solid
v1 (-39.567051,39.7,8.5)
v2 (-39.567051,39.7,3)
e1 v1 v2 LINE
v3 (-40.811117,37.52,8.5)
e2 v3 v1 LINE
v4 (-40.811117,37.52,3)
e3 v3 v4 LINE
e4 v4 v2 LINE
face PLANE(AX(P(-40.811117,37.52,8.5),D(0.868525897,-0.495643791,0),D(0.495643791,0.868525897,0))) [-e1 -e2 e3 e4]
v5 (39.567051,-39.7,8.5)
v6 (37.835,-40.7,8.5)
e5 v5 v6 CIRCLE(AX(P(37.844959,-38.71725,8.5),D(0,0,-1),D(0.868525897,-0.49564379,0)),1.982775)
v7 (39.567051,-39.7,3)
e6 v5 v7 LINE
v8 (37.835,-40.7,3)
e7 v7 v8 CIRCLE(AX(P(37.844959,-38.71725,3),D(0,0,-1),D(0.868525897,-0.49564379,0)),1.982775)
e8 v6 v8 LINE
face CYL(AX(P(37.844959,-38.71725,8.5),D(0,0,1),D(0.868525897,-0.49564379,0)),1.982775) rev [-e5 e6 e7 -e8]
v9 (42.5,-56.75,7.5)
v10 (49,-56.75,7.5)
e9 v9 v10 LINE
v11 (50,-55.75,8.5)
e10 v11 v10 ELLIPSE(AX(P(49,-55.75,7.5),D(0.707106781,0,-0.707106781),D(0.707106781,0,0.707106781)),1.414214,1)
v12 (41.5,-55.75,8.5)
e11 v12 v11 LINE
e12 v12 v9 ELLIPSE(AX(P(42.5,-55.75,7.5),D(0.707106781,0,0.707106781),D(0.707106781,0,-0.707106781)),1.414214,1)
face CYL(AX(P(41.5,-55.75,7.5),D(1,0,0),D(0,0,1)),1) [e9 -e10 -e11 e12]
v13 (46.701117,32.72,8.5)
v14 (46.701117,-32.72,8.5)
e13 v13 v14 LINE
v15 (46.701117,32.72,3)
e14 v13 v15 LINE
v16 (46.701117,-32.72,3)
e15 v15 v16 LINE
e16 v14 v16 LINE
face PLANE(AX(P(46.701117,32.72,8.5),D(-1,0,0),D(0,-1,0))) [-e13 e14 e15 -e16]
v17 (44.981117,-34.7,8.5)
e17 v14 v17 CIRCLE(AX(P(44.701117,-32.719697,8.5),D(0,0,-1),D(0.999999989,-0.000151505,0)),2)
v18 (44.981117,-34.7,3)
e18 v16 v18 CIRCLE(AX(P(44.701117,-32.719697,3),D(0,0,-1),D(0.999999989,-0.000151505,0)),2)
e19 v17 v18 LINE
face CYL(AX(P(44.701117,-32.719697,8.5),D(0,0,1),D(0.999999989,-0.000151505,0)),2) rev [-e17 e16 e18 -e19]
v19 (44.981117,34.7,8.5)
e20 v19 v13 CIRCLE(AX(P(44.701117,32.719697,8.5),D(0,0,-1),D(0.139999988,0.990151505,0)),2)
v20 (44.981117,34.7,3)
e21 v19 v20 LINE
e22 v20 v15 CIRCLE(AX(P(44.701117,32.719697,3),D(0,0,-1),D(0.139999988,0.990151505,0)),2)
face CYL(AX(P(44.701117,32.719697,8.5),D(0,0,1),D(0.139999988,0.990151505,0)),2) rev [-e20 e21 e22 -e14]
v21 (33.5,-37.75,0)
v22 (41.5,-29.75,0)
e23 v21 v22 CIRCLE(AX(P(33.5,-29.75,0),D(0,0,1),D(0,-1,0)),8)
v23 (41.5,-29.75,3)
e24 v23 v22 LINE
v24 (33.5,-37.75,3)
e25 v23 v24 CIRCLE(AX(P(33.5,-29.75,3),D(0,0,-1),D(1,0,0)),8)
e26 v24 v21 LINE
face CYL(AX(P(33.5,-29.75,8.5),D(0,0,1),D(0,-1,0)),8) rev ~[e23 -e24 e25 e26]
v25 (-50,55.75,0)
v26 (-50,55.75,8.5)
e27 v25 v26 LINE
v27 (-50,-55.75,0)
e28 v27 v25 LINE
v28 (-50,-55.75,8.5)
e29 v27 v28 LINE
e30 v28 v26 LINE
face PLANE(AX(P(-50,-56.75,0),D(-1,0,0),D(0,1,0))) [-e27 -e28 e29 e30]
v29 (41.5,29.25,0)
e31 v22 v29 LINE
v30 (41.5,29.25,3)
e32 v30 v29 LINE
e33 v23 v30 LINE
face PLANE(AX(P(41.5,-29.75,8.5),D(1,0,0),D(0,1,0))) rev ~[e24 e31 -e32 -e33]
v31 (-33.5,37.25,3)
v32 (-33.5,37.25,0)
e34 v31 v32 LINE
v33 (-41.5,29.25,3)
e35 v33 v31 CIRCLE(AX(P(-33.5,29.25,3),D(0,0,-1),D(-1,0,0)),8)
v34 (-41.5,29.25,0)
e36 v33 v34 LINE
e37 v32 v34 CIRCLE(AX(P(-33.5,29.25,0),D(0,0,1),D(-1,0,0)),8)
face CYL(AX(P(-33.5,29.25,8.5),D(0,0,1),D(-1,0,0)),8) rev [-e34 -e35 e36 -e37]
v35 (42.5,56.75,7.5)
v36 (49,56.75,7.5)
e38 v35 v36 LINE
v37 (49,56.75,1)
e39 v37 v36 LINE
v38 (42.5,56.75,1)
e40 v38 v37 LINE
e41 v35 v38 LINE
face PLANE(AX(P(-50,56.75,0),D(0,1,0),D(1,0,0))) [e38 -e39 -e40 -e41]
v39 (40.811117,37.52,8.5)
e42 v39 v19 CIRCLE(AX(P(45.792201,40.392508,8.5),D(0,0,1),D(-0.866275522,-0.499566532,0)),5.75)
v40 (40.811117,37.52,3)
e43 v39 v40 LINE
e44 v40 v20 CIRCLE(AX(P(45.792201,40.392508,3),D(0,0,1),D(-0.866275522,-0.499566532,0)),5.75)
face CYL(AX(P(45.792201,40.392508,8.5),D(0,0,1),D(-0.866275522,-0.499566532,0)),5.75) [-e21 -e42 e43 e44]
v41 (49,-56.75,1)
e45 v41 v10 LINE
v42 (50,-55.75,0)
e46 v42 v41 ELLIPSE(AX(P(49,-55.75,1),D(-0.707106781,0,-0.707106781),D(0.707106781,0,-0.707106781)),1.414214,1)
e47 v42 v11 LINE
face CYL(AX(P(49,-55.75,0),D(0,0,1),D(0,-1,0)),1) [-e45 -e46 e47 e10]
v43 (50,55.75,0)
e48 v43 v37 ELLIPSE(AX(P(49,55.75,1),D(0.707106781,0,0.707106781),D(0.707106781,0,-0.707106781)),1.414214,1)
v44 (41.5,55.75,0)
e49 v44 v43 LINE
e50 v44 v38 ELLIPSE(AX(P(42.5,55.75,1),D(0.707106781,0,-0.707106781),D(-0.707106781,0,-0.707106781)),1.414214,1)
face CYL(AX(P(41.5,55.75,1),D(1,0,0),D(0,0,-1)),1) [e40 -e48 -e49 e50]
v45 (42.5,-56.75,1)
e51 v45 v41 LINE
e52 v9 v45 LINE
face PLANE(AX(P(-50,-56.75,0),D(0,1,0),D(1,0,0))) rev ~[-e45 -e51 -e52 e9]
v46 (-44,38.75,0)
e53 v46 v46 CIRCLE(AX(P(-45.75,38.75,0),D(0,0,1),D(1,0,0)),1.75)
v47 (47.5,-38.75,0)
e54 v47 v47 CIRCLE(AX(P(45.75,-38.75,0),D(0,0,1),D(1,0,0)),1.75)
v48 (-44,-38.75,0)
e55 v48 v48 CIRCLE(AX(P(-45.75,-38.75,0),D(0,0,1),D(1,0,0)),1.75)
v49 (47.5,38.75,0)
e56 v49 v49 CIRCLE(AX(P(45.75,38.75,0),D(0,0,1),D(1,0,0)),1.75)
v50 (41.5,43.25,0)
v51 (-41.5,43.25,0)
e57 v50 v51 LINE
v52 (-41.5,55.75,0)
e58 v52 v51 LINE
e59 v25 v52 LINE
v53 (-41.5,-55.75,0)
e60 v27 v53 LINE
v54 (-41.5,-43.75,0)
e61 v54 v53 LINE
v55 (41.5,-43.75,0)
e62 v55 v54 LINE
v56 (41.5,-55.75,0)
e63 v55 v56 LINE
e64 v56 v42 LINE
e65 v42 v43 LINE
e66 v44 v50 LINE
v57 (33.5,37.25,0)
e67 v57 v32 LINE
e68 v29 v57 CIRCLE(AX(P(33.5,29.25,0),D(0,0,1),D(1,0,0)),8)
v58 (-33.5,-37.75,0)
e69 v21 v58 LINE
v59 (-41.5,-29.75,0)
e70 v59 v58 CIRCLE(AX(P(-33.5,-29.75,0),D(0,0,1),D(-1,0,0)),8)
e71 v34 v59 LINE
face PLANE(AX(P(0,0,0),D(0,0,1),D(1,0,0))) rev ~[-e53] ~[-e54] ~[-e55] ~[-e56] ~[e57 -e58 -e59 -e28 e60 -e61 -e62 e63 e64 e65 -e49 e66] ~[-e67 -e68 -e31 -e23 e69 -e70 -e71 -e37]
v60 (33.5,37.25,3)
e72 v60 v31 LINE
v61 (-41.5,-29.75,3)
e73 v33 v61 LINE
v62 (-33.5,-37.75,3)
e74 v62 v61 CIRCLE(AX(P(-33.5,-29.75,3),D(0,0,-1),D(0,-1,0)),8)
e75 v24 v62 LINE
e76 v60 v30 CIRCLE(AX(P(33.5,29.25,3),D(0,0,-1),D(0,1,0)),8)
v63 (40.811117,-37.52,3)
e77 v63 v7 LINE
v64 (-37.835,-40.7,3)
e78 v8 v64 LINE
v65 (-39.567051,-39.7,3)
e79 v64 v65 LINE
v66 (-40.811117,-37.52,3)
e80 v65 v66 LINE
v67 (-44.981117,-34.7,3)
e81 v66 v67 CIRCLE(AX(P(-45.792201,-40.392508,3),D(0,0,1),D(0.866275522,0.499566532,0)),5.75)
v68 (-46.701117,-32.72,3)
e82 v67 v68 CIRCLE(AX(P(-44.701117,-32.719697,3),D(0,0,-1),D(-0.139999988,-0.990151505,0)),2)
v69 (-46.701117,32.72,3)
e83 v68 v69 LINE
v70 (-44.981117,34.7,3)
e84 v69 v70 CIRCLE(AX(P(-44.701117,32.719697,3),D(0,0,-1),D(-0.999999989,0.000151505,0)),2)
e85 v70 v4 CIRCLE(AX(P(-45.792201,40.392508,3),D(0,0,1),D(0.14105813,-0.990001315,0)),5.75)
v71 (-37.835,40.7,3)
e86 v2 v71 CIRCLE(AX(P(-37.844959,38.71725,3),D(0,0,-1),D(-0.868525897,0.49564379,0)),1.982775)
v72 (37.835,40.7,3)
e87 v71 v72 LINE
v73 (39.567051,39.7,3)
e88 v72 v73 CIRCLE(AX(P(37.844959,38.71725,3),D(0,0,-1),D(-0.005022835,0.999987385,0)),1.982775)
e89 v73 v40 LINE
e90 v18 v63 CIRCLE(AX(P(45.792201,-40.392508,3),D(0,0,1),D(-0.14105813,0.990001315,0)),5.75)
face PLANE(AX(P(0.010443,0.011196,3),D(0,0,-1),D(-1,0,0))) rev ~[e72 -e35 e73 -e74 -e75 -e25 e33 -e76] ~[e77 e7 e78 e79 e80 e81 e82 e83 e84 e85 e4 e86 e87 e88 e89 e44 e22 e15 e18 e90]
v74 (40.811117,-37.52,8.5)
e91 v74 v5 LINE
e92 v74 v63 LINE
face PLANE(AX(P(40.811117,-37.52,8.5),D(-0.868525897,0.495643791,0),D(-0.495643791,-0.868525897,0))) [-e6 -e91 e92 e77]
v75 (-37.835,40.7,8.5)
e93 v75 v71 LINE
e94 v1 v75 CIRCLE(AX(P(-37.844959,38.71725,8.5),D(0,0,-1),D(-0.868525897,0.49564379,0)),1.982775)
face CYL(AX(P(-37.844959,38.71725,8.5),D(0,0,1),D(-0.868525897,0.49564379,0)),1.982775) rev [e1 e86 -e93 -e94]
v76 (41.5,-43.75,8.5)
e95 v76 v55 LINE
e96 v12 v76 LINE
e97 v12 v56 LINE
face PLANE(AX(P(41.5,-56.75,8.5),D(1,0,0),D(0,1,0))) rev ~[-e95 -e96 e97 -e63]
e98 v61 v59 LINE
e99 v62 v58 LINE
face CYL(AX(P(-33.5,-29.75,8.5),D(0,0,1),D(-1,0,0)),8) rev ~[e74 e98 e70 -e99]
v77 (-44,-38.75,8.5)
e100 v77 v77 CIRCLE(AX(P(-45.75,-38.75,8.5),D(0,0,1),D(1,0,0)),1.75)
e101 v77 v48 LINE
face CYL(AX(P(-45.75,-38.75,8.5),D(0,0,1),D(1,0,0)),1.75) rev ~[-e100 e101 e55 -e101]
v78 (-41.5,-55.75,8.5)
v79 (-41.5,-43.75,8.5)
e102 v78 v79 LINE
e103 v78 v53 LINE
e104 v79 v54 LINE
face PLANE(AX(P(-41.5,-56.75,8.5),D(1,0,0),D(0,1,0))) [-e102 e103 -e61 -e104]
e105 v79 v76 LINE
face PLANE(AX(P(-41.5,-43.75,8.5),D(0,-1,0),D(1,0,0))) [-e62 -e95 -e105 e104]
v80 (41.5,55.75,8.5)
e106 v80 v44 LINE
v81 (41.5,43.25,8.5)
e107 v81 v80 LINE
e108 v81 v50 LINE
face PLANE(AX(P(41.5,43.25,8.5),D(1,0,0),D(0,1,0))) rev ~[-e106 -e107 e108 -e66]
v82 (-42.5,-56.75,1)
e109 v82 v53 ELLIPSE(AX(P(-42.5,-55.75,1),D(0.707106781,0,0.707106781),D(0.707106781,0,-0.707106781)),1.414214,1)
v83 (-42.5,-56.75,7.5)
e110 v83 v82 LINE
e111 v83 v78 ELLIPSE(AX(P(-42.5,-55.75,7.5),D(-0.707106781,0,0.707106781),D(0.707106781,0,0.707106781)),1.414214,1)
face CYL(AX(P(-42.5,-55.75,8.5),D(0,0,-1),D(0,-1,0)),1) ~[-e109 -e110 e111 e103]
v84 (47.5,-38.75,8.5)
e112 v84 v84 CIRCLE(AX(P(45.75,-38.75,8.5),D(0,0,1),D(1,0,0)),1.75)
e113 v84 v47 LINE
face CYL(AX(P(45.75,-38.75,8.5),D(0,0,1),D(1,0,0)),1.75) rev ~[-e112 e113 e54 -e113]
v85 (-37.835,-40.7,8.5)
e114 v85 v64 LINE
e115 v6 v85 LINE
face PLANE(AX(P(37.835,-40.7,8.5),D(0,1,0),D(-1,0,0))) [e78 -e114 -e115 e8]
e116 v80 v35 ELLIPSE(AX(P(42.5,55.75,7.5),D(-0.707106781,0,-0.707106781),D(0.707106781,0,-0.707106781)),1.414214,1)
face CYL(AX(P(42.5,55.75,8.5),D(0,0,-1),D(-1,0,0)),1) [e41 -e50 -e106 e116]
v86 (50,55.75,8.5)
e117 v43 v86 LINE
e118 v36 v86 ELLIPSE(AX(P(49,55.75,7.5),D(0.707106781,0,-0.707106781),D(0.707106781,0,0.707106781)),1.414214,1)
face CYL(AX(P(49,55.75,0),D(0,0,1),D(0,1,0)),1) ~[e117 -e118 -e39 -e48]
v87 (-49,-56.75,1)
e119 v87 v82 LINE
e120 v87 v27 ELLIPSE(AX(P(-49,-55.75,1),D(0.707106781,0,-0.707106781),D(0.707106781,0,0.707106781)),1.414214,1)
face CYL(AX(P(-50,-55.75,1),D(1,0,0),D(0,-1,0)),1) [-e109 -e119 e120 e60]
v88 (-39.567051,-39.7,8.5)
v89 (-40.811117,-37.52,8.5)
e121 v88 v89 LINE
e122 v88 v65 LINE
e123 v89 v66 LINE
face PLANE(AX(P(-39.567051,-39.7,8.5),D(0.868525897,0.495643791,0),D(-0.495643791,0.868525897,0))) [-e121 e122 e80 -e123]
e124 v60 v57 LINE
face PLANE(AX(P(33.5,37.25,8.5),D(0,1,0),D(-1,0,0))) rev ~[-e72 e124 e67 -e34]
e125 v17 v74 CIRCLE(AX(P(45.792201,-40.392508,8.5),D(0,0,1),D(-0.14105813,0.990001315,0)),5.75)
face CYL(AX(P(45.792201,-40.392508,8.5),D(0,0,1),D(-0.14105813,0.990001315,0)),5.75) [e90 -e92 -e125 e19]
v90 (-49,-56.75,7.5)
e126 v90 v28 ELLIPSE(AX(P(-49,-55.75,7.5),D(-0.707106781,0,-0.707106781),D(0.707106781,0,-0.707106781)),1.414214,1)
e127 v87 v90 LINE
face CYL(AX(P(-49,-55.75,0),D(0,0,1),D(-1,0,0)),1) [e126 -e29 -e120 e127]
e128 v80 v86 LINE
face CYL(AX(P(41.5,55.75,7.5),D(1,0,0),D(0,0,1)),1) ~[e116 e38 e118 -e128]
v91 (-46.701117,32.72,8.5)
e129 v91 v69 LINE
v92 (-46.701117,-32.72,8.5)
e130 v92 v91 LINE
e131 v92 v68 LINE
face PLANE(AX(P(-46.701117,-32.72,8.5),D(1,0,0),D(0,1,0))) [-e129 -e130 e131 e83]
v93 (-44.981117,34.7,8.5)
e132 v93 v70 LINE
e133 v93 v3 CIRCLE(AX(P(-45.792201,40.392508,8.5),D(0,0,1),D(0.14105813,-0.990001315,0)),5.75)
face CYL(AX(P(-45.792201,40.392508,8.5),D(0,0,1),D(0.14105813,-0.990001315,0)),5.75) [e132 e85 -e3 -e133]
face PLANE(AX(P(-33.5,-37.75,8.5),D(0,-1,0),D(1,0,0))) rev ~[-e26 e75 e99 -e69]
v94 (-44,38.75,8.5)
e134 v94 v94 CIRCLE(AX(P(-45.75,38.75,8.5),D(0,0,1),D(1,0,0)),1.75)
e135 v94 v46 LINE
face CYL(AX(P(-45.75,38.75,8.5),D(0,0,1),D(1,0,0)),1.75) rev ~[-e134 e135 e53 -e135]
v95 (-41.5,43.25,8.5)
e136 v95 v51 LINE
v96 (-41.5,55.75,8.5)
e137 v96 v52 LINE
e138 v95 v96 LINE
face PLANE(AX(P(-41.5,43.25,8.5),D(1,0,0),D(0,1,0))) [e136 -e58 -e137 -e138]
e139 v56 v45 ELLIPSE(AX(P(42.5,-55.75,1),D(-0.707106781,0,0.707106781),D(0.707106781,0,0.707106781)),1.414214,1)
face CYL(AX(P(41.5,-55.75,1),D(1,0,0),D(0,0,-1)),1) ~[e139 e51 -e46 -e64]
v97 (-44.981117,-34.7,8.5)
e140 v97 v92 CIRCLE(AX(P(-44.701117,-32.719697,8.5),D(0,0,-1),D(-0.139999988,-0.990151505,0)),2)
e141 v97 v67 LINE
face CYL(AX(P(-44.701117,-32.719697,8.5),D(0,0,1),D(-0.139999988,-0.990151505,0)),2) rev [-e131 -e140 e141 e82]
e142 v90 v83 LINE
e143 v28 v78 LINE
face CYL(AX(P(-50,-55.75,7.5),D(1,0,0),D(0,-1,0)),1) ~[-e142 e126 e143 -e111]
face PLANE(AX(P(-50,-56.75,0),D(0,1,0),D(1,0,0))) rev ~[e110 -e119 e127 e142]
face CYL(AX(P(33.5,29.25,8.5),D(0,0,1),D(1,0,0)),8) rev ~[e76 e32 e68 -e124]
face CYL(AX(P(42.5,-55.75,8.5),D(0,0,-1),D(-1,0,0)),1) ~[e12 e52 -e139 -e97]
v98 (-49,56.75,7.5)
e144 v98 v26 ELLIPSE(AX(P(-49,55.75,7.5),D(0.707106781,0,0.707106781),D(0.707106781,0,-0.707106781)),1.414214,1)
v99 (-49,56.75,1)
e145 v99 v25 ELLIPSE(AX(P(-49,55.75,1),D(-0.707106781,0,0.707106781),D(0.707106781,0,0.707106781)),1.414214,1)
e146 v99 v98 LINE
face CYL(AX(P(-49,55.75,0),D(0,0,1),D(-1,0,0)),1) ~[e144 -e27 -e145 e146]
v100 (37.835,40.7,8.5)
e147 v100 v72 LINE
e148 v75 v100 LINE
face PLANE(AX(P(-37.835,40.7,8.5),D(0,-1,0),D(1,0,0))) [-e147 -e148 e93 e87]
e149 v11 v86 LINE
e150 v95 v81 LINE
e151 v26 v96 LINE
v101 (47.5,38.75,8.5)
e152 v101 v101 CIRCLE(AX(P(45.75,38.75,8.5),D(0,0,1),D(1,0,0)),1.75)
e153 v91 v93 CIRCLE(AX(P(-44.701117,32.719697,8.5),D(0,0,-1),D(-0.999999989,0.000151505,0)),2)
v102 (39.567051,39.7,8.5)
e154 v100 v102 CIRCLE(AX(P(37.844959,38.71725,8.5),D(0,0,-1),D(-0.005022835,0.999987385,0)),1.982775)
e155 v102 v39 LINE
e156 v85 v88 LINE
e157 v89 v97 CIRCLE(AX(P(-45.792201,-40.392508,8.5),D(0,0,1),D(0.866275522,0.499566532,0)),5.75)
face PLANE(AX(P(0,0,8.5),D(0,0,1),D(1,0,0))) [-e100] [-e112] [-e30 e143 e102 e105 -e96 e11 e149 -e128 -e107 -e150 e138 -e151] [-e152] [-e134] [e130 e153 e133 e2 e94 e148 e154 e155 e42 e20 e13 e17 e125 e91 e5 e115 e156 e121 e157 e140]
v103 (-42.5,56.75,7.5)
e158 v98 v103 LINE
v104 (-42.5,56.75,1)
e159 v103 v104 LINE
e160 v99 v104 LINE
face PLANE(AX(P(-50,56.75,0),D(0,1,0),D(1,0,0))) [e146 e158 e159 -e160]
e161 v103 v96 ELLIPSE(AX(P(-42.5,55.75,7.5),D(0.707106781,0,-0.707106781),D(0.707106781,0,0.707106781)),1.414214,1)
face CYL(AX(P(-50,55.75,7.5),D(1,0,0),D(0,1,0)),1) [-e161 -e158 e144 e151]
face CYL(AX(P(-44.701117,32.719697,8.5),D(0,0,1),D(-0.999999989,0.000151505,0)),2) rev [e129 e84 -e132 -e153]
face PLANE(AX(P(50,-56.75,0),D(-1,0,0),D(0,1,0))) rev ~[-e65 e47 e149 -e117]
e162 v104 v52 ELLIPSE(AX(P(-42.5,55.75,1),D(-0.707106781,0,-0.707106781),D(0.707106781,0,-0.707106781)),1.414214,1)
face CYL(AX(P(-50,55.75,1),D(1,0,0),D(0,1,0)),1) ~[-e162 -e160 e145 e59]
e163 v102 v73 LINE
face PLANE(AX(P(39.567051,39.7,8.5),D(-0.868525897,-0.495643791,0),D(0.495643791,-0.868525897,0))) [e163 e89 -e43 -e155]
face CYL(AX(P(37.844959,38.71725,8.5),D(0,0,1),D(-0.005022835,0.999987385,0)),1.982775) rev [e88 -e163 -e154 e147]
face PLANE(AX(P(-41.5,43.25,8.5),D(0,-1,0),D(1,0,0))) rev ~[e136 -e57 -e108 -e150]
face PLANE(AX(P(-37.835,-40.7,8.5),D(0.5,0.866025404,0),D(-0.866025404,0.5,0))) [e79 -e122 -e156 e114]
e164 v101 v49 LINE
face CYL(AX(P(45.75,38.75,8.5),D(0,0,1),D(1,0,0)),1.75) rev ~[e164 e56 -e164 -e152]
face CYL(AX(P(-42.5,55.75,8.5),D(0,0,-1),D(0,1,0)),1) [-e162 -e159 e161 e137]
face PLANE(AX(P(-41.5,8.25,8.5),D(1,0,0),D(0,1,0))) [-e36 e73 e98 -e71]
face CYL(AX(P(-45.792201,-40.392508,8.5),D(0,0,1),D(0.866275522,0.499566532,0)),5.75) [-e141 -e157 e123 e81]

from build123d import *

# Parameters (mm, degrees)
SKETCH1_W           = 100
SKETCH1_H           = 113.5
BOSS_EXTRUDE1_DEPTH = 8.5
CUT_EXTRUDE1_REACH  = 78.111
SKETCH2_W           = 83
SKETCH2_H           = 13.5
SKETCH2_H_2         = 13
SKETCH2_W_2         = 10
SKETCH2_H_3         = 10
SKETCH2_R           = 1.75
CUT_EXTRUDE2_REACH  = 78.111
SKETCH6_W           = 10
SKETCH6_H           = 10
FILLET1_R           = 1
SKETCH8_W           = 10
SKETCH8_H           = 10
CUT_EXTRUDE5_DEPTH  = 5.5
CUT_EXTRUDE6_DEPTH  = 76.834111718


with BuildPart() as part:
    # Sketch1 → Boss-Extrude1 (new body)
    with BuildSketch(Plane.XY):
        Rectangle(SKETCH1_W, SKETCH1_H)
    extrude(amount=BOSS_EXTRUDE1_DEPTH)

    # Sketch2 → Cut-Extrude1 (cut, up to next)
    with BuildSketch(Plane.XY.offset(8.5), mode=Mode.PRIVATE) as cut_extrude1_sk1:
        with Locations((0, 50)):
            Rectangle(SKETCH2_W, SKETCH2_H)
    cut_extrude1_tool1 = extrude(cut_extrude1_sk1.sketch, amount=-CUT_EXTRUDE1_REACH, mode=Mode.PRIVATE) & part.part
    # Sketch2 → Cut-Extrude1 (cut, up to next)
    with BuildSketch(Plane.XY.offset(8.5), mode=Mode.PRIVATE) as cut_extrude1_sk2:
        with BuildLine():
            ThreePointArc((-41.5, -29.75), (-39.156854249, -35.406854249), (-33.5, -37.75))
            Line((-33.5, -37.75), (33.5, -37.75))
            ThreePointArc((33.5, -37.75), (39.156854249, -35.406854249), (41.5, -29.75))
            Line((41.5, -29.75), (41.5, -0.25))
            Line((41.5, -0.25), (-41.5, -0.25))
            Line((-41.5, -0.25), (-41.5, -29.75))
        make_face()
    cut_extrude1_tool2 = extrude(cut_extrude1_sk2.sketch, amount=-CUT_EXTRUDE1_REACH, mode=Mode.PRIVATE) & part.part
    # Sketch2 → Cut-Extrude1 (cut, up to next)
    with BuildSketch(Plane.XY.offset(8.5), mode=Mode.PRIVATE) as cut_extrude1_sk3:
        with Locations((0, -50.25)):
            Rectangle(SKETCH2_W, SKETCH2_H_2)
    cut_extrude1_tool3 = extrude(cut_extrude1_sk3.sketch, amount=-CUT_EXTRUDE1_REACH, mode=Mode.PRIVATE) & part.part
    # Sketch2 → Cut-Extrude1 (cut, up to next)
    with BuildSketch(Plane.XY.offset(8.5), mode=Mode.PRIVATE) as cut_extrude1_sk4:
        with Locations((-11.75, 22.75)):
            Rectangle(SKETCH2_W_2, SKETCH2_H_3)
    cut_extrude1_tool4 = extrude(cut_extrude1_sk4.sketch, amount=-CUT_EXTRUDE1_REACH, mode=Mode.PRIVATE) & part.part
    # Sketch2 → Cut-Extrude1 (cut, up to next)
    with BuildSketch(Plane.XY.offset(8.5), mode=Mode.PRIVATE) as cut_extrude1_sk5:
        with Locations((45.75, 38.75)):
            Circle(SKETCH2_R)
    cut_extrude1_tool5 = extrude(cut_extrude1_sk5.sketch, amount=-CUT_EXTRUDE1_REACH, mode=Mode.PRIVATE) & part.part
    # Sketch2 → Cut-Extrude1 (cut, up to next)
    with BuildSketch(Plane.XY.offset(8.5), mode=Mode.PRIVATE) as cut_extrude1_sk6:
        with Locations((45.75, -38.75)):
            Circle(SKETCH2_R)
    cut_extrude1_tool6 = extrude(cut_extrude1_sk6.sketch, amount=-CUT_EXTRUDE1_REACH, mode=Mode.PRIVATE) & part.part
    # Sketch2 → Cut-Extrude1 (cut, up to next)
    with BuildSketch(Plane.XY.offset(8.5), mode=Mode.PRIVATE) as cut_extrude1_sk7:
        with Locations((-45.75, 38.75)):
            Circle(SKETCH2_R)
    cut_extrude1_tool7 = extrude(cut_extrude1_sk7.sketch, amount=-CUT_EXTRUDE1_REACH, mode=Mode.PRIVATE) & part.part
    # Sketch2 → Cut-Extrude1 (cut, up to next)
    with BuildSketch(Plane.XY.offset(8.5), mode=Mode.PRIVATE) as cut_extrude1_sk8:
        with Locations((-45.75, -38.75)):
            Circle(SKETCH2_R)
    cut_extrude1_tool8 = extrude(cut_extrude1_sk8.sketch, amount=-CUT_EXTRUDE1_REACH, mode=Mode.PRIVATE) & part.part
    add(cut_extrude1_tool1.solids().sort_by_distance((0, 50, 8.5))[0], mode=Mode.SUBTRACT)
    add(cut_extrude1_tool2.solids().sort_by_distance((0, -18.848961, 8.5))[0], mode=Mode.SUBTRACT)
    add(cut_extrude1_tool3.solids().sort_by_distance((0, -50.25, 8.5))[0], mode=Mode.SUBTRACT)
    add(cut_extrude1_tool4.solids().sort_by_distance((-11.75, 22.75, 8.5))[0], mode=Mode.SUBTRACT)
    add(cut_extrude1_tool5.solids().sort_by_distance((45.75, 38.75, 8.5))[0], mode=Mode.SUBTRACT)
    add(cut_extrude1_tool6.solids().sort_by_distance((45.75, -38.75, 8.5))[0], mode=Mode.SUBTRACT)
    add(cut_extrude1_tool7.solids().sort_by_distance((-45.75, 38.75, 8.5))[0], mode=Mode.SUBTRACT)
    add(cut_extrude1_tool8.solids().sort_by_distance((-45.75, -38.75, 8.5))[0], mode=Mode.SUBTRACT)

    # Sketch6 → Cut-Extrude2 (cut, up to next)
    with BuildSketch(Plane.XY.offset(8.5), mode=Mode.PRIVATE) as cut_extrude2_sk1:
        with BuildLine():
            Line((41.5, 8.25), (41.5, 29.25))
            ThreePointArc((41.5, 29.25), (39.156854249, 34.906854249), (33.5, 37.25))
            Line((33.5, 37.25), (28.5, 37.25))
            Line((28.5, 37.25), (28.5, 8.25))
            Line((28.5, 8.25), (33.5, 8.25))
            Line((33.5, 8.25), (41.5, 8.25))
        make_face()
    cut_extrude2_tool1 = extrude(cut_extrude2_sk1.sketch, amount=-CUT_EXTRUDE2_REACH, mode=Mode.PRIVATE) & part.part
    # Sketch6 → Cut-Extrude2 (cut, up to next)
    with BuildSketch(Plane.XY.offset(8.5), mode=Mode.PRIVATE) as cut_extrude2_sk2:
        with Locations((11.75, 22.75)):
            Rectangle(SKETCH6_W, SKETCH6_H)
    cut_extrude2_tool2 = extrude(cut_extrude2_sk2.sketch, amount=-CUT_EXTRUDE2_REACH, mode=Mode.PRIVATE) & part.part
    # Sketch6 → Cut-Extrude2 (cut, up to next)
    with BuildSketch(Plane.XY.offset(8.5), mode=Mode.PRIVATE) as cut_extrude2_sk3:
        with BuildLine():
            Line((-41.5, 8.25), (-41.5, 29.25))
            ThreePointArc((-41.5, 29.25), (-39.156854249, 34.906854249), (-33.5, 37.25))
            Line((-33.5, 37.25), (-28.5, 37.25))
            Line((-28.5, 37.25), (-28.5, 8.25))
            Line((-28.5, 8.25), (-33.5, 8.25))
            Line((-33.5, 8.25), (-41.5, 8.25))
        make_face()
    cut_extrude2_tool3 = extrude(cut_extrude2_sk3.sketch, amount=-CUT_EXTRUDE2_REACH, mode=Mode.PRIVATE) & part.part
    add(cut_extrude2_tool1.solids().sort_by_distance((34.821806, 22.269339, 8.5))[0], mode=Mode.SUBTRACT)
    add(cut_extrude2_tool2.solids().sort_by_distance((11.75, 22.75, 8.5))[0], mode=Mode.SUBTRACT)
    add(cut_extrude2_tool3.solids().sort_by_distance((-34.821806, 22.269339, 8.5))[0], mode=Mode.SUBTRACT)

    # Fillet1
    fillet1_edges = [part.edges().sort_by_distance(p)[0] for p in [
        (45.75, -56.75, 0),
        (-45.75, 56.75, 0),
        (-45.75, -56.75, 8.5),
        (-45.75, 56.75, 8.5),
        (45.75, -56.75, 8.5),
        (-41.5, 56.75, 4.25),
        (41.5, 56.75, 4.25),
        (41.5, -56.75, 4.25),
        (-41.5, -56.75, 4.25),
        (-45.75, -56.75, 0),
        (45.75, 56.75, 0),
        (50, -56.75, 4.25),
        (-50, -56.75, 4.25),
        (-50, 56.75, 4.25),
        (50, 56.75, 4.25),
        (45.75, 56.75, 8.5),
    ]]
    fillet(fillet1_edges, radius=FILLET1_R)

    # Sketch8 → Cut-Extrude5 (cut)
    with BuildSketch(Plane.XY.offset(8.5)):
        with BuildLine():
            ThreePointArc((-46.701116722, 32.72), (-46.210984272, 34.031299083), (-44.981116722, 34.7))
            ThreePointArc((-44.981116722, 34.7), (-42.571113581, 35.629410248), (-40.811116722, 37.52))
            Line((-40.811116722, 37.52), (-39.567050808, 39.7))
            ThreePointArc((-39.567050808, 39.7), (-38.836346779, 40.434383498), (-37.835, 40.7))
            Line((-37.835, 40.7), (37.835, 40.7))
            ThreePointArc((37.835, 40.7), (38.836346779, 40.434383498), (39.567050808, 39.7))
            Line((39.567050808, 39.7), (40.811116722, 37.52))
            ThreePointArc((40.811116722, 37.52), (42.571113581, 35.629410248), (44.981116722, 34.7))
            ThreePointArc((44.981116722, 34.7), (46.210984272, 34.031299083), (46.701116722, 32.72))
            Line((46.701116722, 32.72), (46.701116722, -32.72))
            ThreePointArc((46.701116722, -32.72), (46.210984272, -34.031299083), (44.981116722, -34.7))
            ThreePointArc((44.981116722, -34.7), (42.571113581, -35.629410248), (40.811116722, -37.52))
            Line((40.811116722, -37.52), (39.567050808, -39.7))
            ThreePointArc((39.567050808, -39.7), (38.836346779, -40.434383498), (37.835, -40.7))
            Line((37.835, -40.7), (-37.835, -40.7))
            Line((-37.835, -40.7), (-39.567050808, -39.7))
            Line((-39.567050808, -39.7), (-40.811116722, -37.52))
            ThreePointArc((-40.811116722, -37.52), (-42.571113581, -35.629410248), (-44.981116722, -34.7))
            ThreePointArc((-44.981116722, -34.7), (-46.210984272, -34.031299083), (-46.701116722, -32.72))
            Line((-46.701116722, -32.72), (-46.701116722, 32.72))
        make_face()
        with Locations((-11.75, 22.75)):
            Rectangle(SKETCH8_W, SKETCH8_H, mode=Mode.SUBTRACT)
        with BuildLine():
            Line((33.5, -37.75), (-33.5, -37.75))
            ThreePointArc((-33.5, -37.75), (-39.156854249, -35.406854249), (-41.5, -29.75))
            Line((-41.5, -29.75), (-41.5, -0.25))
            Line((-41.5, -0.25), (41.5, -0.25))
            Line((41.5, -0.25), (41.5, -29.75))
            ThreePointArc((41.5, -29.75), (39.156854249, -35.406854249), (33.5, -37.75))
        make_face(mode=Mode.SUBTRACT)
        with Locations((11.75, 22.75)):
            Rectangle(SKETCH8_W, SKETCH8_H, mode=Mode.SUBTRACT)
        with BuildLine():
            Line((-41.5, 8.25), (-41.5, 29.25))
            ThreePointArc((-41.5, 29.25), (-39.156854249, 34.906854249), (-33.5, 37.25))
            Line((-33.5, 37.25), (-28.5, 37.25))
            Line((-28.5, 37.25), (-28.5, 8.25))
            Line((-28.5, 8.25), (-41.5, 8.25))
        make_face(mode=Mode.SUBTRACT)
        with BuildLine():
            Line((41.5, 8.25), (28.5, 8.25))
            Line((28.5, 8.25), (28.5, 37.25))
            Line((28.5, 37.25), (33.5, 37.25))
            ThreePointArc((33.5, 37.25), (39.156854249, 34.906854249), (41.5, 29.25))
            Line((41.5, 29.25), (41.5, 8.25))
        make_face(mode=Mode.SUBTRACT)
    extrude(amount=-CUT_EXTRUDE5_DEPTH, mode=Mode.SUBTRACT)

    # Sketch9 → Cut-Extrude6 (cut, through all)
    with BuildSketch(Plane.XY.offset(3)):
        with BuildLine():
            Line((-33.5, -37.75), (33.5, -37.75))
            ThreePointArc((33.5, -37.75), (39.156854249, -35.406854249), (41.5, -29.75))
            Line((41.5, -29.75), (41.5, 29.25))
            ThreePointArc((41.5, 29.25), (39.156854249, 34.906854249), (33.5, 37.25))
            Line((33.5, 37.25), (-33.5, 37.25))
            ThreePointArc((-33.5, 37.25), (-39.156854249, 34.906854249), (-41.5, 29.25))
            Line((-41.5, 29.25), (-41.5, -29.75))
            ThreePointArc((-41.5, -29.75), (-39.156854249, -35.406854249), (-33.5, -37.75))
        make_face()
    extrude(amount=-CUT_EXTRUDE6_DEPTH, mode=Mode.SUBTRACT)


solid = part.part
